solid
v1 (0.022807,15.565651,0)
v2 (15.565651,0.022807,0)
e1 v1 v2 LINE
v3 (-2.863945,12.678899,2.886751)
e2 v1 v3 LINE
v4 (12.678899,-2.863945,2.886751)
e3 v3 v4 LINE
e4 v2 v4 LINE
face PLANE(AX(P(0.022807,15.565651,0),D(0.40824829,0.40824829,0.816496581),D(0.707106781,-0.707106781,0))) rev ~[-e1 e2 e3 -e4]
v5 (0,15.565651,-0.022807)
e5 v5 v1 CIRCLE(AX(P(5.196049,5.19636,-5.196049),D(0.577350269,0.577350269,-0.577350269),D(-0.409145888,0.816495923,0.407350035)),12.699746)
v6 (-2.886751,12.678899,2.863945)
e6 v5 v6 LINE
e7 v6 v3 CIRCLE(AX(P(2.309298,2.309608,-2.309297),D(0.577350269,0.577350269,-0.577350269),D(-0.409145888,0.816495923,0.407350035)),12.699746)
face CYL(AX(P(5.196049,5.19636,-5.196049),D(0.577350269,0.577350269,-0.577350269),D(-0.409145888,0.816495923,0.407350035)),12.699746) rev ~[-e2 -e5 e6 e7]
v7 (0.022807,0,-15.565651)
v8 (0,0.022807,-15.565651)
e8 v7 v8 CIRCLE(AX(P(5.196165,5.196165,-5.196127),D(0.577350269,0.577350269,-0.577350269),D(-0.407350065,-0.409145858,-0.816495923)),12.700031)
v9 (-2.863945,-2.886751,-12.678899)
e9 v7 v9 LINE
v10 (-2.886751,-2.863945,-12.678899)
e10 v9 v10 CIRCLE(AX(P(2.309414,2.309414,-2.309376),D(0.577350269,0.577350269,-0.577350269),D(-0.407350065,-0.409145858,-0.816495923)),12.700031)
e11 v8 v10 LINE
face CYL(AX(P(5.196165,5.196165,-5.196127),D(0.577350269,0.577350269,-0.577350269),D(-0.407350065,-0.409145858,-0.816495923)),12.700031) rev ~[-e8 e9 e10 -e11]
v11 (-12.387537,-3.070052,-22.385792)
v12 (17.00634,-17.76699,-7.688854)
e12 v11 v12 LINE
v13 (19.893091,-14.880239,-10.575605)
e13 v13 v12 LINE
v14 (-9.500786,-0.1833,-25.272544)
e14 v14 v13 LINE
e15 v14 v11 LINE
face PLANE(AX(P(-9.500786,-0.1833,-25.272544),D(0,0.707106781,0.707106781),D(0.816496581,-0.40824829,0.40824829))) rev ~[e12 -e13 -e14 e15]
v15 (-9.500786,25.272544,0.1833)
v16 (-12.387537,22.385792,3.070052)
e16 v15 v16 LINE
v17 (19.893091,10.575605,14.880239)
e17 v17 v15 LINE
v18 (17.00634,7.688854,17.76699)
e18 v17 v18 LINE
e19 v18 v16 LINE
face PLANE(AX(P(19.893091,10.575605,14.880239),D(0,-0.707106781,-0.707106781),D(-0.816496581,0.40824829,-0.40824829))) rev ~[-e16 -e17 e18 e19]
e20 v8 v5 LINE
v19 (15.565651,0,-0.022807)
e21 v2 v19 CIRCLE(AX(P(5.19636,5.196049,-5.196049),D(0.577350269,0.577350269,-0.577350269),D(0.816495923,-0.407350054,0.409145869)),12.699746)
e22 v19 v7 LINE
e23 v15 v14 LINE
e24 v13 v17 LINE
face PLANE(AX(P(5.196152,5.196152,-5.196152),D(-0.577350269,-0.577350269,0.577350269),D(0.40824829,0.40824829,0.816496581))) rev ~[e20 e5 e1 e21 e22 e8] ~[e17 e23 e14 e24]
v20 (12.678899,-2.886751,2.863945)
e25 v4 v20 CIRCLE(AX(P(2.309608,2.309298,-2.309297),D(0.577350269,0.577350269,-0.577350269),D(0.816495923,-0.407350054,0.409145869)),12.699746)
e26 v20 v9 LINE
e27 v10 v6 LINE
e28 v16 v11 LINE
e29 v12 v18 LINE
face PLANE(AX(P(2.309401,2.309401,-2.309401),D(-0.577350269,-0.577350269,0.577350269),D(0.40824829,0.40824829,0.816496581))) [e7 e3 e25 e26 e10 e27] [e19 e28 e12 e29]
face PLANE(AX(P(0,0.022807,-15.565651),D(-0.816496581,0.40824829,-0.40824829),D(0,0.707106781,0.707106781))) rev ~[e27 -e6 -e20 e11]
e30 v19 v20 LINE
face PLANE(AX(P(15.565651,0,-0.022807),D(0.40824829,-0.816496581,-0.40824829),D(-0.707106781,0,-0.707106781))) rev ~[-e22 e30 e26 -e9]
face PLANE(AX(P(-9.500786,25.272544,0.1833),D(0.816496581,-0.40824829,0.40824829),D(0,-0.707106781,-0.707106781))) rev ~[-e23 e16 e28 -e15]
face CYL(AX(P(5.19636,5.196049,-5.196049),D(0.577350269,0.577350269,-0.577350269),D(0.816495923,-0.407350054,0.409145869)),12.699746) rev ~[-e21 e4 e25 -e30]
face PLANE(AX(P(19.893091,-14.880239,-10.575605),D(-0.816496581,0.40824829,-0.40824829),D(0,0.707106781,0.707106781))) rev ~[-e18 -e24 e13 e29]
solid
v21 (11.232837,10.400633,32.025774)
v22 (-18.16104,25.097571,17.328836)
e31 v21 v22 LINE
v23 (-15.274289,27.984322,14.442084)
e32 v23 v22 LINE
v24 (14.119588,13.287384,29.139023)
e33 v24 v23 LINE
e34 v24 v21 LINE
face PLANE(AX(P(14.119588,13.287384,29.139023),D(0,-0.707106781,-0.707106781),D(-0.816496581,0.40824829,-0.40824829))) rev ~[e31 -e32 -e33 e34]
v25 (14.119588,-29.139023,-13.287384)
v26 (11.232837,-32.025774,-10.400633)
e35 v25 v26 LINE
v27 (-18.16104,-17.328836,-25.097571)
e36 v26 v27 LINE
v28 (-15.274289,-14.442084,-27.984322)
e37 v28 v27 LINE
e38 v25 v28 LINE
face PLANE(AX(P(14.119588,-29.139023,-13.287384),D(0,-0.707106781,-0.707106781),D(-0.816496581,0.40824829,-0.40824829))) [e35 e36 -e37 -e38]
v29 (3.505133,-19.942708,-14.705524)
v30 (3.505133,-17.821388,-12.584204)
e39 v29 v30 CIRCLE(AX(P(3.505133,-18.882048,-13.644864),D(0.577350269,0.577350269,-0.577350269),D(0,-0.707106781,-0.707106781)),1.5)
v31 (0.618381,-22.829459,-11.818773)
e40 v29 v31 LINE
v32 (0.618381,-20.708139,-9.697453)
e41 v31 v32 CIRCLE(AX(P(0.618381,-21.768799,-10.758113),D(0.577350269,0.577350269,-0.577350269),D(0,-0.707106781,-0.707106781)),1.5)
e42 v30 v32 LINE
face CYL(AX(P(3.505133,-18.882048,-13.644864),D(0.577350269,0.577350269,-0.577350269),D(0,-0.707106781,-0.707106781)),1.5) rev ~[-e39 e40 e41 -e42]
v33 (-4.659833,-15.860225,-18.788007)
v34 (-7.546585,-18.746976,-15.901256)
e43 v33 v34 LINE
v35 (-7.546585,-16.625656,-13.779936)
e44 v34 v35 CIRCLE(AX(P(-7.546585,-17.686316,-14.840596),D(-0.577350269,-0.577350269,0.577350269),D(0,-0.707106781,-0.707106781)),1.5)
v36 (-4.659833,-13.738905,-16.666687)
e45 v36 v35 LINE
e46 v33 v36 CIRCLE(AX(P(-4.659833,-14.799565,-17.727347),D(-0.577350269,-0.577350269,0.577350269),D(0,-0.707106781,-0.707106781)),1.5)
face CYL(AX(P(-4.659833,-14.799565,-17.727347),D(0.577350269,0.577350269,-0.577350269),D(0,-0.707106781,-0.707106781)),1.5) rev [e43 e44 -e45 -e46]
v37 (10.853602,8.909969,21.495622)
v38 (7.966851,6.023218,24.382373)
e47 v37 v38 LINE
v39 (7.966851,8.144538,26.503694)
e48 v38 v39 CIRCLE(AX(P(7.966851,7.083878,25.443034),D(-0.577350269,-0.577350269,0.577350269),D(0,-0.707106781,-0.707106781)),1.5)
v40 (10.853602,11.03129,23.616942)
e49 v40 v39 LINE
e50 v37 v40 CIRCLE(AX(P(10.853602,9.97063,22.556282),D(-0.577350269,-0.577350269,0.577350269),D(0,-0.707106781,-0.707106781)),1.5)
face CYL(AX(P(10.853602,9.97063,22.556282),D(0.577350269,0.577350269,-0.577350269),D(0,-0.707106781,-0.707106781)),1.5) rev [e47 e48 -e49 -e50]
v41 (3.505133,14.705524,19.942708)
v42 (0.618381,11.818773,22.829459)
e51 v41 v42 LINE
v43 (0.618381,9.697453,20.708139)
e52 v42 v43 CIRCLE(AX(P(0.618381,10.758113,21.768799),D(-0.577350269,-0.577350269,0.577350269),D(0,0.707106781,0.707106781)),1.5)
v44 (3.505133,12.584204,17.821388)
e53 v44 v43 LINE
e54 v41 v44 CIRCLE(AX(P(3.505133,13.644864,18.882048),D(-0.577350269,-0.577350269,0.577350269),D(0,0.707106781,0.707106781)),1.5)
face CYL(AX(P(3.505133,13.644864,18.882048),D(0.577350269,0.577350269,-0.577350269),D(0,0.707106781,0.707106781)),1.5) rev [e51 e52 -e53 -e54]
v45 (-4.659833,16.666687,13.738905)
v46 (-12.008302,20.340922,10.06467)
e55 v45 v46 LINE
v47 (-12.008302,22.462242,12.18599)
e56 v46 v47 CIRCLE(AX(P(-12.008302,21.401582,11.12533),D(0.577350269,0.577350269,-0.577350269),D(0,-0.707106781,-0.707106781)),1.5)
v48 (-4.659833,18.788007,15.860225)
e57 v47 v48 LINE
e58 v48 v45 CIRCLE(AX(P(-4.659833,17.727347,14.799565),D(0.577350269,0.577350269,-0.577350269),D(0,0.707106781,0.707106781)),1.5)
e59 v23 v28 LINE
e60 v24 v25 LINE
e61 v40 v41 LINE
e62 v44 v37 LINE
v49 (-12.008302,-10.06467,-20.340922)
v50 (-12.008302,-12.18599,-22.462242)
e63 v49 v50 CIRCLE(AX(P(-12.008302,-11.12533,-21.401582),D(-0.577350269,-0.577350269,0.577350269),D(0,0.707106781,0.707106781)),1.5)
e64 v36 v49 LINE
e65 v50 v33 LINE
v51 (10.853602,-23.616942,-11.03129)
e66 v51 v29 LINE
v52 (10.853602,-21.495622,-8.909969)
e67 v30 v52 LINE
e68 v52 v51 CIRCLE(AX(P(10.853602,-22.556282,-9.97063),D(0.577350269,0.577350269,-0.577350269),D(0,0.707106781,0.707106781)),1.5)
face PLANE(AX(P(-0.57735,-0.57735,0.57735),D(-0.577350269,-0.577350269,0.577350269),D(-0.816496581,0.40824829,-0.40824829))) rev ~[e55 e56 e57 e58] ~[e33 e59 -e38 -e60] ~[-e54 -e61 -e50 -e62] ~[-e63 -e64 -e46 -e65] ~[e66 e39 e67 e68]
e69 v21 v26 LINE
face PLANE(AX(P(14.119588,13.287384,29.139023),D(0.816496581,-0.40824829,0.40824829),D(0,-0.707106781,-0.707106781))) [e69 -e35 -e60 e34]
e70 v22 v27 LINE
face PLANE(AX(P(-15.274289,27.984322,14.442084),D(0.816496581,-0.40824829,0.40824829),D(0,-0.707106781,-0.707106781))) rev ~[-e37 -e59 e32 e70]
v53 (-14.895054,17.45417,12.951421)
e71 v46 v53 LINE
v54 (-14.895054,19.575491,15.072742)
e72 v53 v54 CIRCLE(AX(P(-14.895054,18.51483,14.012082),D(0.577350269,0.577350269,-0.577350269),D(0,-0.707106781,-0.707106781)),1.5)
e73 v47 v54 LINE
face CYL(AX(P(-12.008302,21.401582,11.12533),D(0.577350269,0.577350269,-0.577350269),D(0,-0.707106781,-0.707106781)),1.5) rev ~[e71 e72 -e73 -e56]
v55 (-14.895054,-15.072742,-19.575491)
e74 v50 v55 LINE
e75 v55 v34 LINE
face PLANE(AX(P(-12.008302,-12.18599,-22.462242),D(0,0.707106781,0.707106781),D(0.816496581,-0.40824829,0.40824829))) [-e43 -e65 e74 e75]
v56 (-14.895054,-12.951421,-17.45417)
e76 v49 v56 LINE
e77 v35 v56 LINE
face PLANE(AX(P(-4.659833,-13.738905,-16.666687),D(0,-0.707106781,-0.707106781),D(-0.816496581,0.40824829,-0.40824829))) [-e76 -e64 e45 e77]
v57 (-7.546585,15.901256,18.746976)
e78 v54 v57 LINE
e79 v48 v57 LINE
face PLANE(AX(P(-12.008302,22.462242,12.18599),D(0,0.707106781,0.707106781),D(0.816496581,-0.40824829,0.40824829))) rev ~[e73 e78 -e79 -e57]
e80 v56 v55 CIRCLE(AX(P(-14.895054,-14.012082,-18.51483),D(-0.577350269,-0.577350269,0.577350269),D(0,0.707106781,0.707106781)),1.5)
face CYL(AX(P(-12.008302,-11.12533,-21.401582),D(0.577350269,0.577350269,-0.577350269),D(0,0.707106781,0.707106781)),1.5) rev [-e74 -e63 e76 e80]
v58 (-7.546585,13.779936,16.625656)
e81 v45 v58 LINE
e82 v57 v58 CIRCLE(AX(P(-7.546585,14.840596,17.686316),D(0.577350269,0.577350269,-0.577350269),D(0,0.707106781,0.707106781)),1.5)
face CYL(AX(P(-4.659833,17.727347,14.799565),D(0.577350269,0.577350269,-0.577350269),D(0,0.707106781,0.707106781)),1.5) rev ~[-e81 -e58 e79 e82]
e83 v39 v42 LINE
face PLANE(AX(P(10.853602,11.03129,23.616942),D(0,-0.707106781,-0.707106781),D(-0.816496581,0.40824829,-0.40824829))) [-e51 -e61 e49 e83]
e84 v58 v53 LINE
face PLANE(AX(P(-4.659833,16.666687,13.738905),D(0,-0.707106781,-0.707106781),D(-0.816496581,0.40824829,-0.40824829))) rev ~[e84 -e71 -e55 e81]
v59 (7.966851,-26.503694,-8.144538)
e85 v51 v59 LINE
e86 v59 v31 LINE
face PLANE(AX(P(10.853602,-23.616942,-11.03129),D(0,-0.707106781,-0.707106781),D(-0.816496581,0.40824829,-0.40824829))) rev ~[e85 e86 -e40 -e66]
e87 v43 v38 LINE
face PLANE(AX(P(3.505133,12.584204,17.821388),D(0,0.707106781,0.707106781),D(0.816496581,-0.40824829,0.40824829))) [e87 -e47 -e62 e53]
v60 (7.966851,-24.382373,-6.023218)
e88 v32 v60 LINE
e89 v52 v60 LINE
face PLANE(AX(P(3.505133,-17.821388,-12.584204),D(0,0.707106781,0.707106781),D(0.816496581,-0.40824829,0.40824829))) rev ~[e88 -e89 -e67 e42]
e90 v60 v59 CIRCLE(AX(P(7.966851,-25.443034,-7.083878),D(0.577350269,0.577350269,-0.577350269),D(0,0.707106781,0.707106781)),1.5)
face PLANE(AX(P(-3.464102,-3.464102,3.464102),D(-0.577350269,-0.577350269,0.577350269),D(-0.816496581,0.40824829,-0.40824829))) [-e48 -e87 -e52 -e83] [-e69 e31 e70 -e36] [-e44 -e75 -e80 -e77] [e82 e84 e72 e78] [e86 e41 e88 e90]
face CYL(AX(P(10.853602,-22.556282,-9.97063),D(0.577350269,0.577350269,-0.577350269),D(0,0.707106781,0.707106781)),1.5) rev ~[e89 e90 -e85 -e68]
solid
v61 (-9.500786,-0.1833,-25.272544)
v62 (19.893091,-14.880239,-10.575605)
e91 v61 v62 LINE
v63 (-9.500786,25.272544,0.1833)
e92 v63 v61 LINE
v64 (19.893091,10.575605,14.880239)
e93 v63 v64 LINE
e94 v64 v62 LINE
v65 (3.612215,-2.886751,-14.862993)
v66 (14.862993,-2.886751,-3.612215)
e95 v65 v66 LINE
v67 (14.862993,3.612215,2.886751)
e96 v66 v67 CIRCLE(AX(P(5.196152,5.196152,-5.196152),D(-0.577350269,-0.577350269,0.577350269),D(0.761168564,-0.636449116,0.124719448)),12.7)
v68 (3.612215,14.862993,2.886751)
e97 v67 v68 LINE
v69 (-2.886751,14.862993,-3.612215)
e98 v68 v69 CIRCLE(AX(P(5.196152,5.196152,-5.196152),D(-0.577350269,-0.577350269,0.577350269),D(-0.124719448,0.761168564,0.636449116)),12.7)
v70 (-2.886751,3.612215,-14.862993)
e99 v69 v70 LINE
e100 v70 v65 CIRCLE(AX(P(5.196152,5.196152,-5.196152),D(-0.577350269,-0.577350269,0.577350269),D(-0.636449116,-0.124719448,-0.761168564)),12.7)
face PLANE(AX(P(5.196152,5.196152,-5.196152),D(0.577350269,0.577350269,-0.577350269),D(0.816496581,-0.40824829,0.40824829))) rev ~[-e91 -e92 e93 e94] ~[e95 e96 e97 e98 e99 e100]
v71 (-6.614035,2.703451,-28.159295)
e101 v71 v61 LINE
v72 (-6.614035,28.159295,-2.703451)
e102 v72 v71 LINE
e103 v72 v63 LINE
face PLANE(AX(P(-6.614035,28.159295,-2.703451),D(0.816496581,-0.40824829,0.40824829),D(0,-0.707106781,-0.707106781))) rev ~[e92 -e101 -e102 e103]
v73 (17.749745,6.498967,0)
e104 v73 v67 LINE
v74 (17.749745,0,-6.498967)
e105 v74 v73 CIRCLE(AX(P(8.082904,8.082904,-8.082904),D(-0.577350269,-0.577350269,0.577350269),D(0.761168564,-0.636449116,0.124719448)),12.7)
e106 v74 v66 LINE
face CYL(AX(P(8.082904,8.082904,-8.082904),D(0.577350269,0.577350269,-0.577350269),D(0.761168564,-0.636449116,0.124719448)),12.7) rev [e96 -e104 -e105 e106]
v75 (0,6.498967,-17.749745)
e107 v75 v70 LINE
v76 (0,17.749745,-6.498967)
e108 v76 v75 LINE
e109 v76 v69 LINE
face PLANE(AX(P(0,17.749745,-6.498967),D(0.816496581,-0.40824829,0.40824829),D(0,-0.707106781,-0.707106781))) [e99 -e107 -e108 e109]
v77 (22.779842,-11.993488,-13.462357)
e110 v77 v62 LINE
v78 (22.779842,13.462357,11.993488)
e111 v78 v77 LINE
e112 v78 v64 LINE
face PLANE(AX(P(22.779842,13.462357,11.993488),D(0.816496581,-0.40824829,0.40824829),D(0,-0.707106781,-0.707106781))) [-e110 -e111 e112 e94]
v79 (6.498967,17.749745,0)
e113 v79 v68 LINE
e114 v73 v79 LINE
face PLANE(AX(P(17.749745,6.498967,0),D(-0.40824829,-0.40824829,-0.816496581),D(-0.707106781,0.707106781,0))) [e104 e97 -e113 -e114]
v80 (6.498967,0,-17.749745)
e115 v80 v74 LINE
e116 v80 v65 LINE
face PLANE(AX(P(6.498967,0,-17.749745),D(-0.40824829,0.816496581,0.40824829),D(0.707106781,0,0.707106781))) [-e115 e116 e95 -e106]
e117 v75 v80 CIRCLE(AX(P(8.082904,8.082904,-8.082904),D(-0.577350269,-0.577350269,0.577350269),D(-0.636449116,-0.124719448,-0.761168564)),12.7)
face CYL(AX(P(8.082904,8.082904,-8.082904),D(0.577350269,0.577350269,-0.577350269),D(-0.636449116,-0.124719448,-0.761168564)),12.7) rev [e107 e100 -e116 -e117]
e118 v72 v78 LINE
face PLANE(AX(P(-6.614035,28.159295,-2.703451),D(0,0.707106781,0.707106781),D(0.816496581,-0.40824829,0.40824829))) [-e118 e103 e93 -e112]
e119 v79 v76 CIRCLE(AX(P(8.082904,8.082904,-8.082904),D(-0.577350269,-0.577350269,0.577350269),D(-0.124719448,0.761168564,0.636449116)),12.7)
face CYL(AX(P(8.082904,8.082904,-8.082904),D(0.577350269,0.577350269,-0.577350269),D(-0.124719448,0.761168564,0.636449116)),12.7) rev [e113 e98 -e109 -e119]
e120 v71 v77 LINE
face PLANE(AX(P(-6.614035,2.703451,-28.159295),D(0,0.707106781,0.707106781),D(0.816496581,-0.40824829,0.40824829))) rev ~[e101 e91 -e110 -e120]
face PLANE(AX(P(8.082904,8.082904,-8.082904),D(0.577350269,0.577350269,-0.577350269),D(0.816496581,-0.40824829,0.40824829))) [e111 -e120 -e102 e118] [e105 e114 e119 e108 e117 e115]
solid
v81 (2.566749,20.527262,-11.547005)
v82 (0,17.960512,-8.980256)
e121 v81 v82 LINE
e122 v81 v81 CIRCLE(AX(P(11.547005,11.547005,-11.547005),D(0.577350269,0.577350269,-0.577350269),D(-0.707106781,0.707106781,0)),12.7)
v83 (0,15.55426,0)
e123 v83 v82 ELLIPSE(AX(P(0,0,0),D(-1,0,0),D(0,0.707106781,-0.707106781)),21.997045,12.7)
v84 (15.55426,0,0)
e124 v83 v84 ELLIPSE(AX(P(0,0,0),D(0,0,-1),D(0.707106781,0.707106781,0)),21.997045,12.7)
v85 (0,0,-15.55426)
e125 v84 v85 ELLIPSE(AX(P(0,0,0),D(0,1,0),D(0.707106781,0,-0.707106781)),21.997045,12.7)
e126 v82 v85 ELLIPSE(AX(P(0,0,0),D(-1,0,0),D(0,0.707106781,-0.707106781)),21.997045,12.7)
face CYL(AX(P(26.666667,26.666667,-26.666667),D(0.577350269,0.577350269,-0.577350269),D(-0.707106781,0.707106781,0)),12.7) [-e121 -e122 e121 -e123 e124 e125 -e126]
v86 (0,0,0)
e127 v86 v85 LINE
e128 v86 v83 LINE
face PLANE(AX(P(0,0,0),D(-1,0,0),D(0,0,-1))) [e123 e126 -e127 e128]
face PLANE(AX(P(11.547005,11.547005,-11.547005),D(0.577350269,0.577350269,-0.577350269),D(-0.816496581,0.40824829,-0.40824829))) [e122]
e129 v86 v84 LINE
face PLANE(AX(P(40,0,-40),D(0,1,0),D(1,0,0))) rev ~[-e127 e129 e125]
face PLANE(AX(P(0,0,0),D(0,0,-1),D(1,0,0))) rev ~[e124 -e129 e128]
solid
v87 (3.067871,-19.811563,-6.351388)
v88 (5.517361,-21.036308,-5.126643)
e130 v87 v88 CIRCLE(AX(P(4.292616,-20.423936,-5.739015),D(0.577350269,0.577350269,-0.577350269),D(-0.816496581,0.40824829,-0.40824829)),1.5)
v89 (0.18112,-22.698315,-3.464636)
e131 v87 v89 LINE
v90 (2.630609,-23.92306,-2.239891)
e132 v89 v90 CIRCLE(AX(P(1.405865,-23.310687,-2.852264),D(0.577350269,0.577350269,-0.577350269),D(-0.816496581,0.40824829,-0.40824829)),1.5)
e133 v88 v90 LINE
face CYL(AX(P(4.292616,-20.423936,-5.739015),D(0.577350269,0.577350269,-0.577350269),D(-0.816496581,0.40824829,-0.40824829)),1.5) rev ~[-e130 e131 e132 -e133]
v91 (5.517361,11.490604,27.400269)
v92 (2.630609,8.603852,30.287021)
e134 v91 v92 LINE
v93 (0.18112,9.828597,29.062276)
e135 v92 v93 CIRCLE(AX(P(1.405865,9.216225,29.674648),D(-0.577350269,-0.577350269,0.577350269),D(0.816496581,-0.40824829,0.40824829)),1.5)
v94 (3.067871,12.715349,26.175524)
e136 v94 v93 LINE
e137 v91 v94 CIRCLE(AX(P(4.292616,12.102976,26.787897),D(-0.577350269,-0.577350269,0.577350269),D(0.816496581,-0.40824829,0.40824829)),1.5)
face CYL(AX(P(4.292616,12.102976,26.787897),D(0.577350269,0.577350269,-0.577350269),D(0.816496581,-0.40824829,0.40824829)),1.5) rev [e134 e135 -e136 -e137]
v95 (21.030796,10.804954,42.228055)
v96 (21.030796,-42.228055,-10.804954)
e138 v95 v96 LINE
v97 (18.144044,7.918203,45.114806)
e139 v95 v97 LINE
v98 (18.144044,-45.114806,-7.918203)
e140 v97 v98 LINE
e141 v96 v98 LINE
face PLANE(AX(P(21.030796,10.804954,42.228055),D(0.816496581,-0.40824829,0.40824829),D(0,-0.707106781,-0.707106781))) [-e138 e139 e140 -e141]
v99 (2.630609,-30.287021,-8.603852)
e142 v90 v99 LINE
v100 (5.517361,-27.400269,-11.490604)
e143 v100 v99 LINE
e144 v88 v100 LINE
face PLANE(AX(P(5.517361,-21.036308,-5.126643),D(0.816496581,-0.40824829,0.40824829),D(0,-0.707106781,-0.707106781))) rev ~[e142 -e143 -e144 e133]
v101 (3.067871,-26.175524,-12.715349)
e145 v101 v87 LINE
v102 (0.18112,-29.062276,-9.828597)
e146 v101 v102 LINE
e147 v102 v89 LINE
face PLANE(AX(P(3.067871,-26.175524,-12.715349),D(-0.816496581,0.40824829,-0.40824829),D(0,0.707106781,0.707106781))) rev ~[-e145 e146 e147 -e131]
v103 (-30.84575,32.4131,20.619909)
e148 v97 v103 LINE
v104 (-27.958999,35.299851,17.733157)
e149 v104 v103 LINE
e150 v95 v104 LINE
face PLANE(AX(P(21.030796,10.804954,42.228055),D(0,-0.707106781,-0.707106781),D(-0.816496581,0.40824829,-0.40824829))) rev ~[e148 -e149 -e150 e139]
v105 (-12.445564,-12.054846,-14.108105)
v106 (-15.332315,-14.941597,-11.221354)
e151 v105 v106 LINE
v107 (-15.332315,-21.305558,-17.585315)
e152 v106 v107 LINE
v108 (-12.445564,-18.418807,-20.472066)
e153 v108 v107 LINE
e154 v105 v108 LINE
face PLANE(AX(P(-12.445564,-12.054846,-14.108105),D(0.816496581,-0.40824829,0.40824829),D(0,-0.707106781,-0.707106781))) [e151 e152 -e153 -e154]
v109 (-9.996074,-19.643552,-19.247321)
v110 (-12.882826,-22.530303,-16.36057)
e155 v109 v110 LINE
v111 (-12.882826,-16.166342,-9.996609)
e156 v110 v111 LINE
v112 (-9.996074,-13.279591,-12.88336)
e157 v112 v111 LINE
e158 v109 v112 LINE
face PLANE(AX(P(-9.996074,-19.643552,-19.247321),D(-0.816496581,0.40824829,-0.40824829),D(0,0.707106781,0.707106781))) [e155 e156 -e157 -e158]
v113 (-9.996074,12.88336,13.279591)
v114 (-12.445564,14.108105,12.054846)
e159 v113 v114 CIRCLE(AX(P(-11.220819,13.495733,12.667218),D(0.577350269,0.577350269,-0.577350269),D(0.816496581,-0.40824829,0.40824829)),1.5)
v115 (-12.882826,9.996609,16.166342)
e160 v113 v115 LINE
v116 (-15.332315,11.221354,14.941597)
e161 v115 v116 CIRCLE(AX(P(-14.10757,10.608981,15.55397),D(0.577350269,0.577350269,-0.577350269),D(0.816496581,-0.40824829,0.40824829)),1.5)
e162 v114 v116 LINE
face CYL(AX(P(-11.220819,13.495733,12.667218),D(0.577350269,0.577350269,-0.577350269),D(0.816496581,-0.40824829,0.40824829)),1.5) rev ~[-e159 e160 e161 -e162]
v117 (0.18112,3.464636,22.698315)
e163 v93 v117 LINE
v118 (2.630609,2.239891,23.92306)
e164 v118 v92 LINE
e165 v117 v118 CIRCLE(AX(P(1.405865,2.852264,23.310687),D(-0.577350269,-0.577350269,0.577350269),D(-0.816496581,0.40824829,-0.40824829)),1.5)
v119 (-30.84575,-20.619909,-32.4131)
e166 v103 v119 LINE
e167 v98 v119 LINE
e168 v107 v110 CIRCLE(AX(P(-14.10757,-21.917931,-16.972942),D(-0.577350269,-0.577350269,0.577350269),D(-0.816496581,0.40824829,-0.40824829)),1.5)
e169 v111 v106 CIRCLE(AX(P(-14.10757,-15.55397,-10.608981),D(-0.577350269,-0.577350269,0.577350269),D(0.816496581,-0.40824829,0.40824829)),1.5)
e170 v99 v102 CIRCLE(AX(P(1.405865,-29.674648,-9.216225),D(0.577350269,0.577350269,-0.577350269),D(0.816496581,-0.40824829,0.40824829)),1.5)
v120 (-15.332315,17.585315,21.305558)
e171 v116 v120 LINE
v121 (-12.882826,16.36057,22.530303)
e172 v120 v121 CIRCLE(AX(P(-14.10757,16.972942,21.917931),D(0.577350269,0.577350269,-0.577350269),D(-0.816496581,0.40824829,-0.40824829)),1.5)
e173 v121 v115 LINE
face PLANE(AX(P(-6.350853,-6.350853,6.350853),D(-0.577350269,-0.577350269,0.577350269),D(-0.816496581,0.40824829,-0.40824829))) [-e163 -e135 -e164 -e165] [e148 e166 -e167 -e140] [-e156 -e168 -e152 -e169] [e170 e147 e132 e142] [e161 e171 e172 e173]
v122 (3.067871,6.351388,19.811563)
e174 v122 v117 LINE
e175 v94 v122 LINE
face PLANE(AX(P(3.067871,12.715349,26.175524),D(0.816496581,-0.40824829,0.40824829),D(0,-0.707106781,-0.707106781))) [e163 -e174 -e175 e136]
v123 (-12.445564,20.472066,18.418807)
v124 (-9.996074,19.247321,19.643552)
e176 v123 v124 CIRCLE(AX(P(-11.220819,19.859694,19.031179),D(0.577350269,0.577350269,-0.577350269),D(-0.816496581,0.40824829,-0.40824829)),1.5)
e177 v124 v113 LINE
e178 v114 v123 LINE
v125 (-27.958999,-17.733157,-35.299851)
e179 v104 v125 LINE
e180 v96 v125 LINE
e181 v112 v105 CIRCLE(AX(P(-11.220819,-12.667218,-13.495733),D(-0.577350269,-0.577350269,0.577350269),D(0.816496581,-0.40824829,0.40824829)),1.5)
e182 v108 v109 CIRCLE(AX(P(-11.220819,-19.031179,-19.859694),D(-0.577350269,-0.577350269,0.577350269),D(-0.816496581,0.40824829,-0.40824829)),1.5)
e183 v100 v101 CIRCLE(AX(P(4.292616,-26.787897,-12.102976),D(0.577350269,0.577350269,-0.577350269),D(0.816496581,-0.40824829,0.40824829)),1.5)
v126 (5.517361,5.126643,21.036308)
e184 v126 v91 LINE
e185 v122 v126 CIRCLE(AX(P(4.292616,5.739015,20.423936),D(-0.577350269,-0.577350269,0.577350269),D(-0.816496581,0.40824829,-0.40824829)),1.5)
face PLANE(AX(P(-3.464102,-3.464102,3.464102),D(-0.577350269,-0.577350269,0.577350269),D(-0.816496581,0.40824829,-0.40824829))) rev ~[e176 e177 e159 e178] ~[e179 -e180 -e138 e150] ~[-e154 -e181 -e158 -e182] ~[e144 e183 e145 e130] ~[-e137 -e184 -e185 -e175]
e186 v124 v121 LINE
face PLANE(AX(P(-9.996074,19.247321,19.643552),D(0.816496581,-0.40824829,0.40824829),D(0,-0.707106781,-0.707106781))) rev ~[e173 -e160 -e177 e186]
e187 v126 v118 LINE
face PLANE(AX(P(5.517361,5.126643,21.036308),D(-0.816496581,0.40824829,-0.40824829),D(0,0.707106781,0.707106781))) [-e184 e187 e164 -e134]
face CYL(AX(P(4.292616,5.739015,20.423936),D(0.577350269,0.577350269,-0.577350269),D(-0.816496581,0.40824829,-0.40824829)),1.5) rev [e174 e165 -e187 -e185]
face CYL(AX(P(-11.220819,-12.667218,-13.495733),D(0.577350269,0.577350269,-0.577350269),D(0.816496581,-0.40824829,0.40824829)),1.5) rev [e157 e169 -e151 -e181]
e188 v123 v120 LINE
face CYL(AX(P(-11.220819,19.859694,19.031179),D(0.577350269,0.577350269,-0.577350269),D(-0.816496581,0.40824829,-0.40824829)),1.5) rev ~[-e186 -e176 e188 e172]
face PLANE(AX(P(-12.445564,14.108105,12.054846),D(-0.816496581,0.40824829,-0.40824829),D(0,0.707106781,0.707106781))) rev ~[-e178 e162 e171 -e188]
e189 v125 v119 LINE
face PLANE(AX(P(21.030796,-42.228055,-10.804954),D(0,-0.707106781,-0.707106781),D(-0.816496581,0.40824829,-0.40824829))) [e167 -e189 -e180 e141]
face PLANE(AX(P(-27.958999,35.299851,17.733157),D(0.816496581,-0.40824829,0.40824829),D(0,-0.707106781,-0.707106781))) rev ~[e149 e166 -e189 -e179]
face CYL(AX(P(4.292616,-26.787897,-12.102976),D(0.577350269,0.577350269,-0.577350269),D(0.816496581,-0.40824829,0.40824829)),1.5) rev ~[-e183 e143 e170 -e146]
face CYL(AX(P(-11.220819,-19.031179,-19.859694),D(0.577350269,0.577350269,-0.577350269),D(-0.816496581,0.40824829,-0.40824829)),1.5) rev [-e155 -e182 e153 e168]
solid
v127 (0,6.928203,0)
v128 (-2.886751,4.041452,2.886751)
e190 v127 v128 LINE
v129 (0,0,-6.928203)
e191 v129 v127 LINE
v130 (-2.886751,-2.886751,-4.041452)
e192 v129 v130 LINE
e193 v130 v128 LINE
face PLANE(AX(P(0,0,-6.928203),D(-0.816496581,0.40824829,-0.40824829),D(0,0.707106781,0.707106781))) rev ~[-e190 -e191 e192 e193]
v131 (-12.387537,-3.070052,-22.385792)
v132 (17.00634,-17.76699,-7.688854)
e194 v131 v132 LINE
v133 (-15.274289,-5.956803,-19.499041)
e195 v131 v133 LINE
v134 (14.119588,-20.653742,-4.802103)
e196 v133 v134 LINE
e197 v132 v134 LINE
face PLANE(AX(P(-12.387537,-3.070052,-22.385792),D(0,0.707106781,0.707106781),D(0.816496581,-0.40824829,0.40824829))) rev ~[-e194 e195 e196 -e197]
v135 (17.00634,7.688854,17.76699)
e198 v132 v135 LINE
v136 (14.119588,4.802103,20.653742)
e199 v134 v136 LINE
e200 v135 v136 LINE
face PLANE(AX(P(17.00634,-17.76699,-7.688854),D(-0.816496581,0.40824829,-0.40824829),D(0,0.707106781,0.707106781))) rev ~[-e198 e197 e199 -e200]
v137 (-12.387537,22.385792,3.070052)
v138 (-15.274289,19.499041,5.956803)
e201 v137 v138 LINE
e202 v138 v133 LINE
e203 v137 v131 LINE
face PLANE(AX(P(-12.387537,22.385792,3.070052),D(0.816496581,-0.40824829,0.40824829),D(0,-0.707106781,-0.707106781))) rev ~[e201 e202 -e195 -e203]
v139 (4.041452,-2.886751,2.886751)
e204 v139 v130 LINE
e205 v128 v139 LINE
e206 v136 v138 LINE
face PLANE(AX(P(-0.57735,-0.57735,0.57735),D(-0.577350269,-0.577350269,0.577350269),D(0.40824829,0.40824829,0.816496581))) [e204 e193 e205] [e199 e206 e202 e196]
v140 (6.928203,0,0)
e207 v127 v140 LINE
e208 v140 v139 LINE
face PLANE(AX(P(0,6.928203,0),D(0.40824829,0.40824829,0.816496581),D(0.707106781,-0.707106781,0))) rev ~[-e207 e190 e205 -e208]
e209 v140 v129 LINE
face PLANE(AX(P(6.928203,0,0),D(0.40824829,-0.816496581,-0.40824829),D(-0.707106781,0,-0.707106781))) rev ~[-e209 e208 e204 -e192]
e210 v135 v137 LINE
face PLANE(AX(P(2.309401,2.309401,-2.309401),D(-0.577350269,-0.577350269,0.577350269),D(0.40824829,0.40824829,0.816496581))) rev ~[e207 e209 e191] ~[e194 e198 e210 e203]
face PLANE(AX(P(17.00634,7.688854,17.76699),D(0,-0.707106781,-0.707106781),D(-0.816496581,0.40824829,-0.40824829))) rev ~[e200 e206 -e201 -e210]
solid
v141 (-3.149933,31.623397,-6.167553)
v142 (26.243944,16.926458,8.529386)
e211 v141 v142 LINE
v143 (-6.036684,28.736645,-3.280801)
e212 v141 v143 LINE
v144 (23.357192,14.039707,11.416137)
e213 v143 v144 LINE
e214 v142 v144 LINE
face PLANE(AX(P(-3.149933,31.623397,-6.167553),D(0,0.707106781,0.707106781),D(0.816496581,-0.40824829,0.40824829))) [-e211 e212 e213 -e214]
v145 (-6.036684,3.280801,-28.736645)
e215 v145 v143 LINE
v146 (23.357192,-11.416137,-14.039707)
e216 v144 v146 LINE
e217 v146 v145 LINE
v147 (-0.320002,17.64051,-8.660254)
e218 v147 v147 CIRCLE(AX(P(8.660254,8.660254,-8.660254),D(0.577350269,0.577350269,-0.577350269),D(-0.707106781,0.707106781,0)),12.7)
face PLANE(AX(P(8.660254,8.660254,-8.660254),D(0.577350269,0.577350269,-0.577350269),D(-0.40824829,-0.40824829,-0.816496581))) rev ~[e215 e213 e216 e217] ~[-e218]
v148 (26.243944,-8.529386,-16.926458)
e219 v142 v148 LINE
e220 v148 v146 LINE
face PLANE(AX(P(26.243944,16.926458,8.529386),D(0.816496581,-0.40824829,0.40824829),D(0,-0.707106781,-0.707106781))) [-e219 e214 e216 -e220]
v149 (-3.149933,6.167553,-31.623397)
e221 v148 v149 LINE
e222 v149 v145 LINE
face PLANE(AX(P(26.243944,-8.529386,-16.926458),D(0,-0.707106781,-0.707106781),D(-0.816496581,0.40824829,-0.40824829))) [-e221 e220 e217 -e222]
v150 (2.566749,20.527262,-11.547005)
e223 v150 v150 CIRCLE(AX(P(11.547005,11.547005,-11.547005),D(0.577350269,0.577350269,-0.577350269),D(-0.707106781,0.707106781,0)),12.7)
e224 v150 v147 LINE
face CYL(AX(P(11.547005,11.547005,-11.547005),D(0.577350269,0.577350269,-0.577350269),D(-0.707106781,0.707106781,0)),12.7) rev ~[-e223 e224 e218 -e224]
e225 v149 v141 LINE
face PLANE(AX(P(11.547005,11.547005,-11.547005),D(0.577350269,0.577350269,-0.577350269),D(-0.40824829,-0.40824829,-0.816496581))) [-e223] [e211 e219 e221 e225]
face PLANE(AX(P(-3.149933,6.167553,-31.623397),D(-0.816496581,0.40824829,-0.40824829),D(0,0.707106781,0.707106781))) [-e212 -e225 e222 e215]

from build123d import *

# Parameters (mm, degrees)
SKETCH1_W           = 80
SKETCH1_H           = 80
BOSS_EXTRUDE1_DEPTH = 80
SKETCH2_R           = 97.950709898
CUT_EXTRUDE1_DEPTH  = 93.37604307
SKETCH3_R           = 78.302577254
SKETCH3_R_2         = 12.7
CUT_EXTRUDE2_DEPTH  = 40
SKETCH4_R           = 14.105721121
CUT_EXTRUDE3_DEPTH  = 40
SKETCH6_W           = 36
SKETCH6_H           = 36
BOSS_EXTRUDE2_DEPTH = 5
BOSS_EXTRUDE3_DEPTH = 5
BOSS_EXTRUDE4_DEPTH = 5
SKETCH12_R          = 12.7
BOSS_EXTRUDE6_DEPTH = 5
SKETCH15_W          = 36
SKETCH15_H          = 60
BOSS_EXTRUDE8_DEPTH = 5
SKETCH16_W          = 60
SKETCH16_H          = 75
BOSS_EXTRUDE9_DEPTH = 5


with BuildPart() as part:
    # Sketch1 → Boss-Extrude1 (new body)
    with BuildSketch(Plane(origin=(0, 0, 0), x_dir=(1, 0, 0), z_dir=(0, 1, 0))):
        with Locations((40, 40)):
            Rectangle(SKETCH1_W, SKETCH1_H)
    extrude(amount=BOSS_EXTRUDE1_DEPTH)

    # Sketch2 → Cut-Extrude1 (cut, through all)
    with BuildSketch(Plane(origin=(26.666666667, 26.666666667, -26.666666667), x_dir=(-0.8164965809277261, 0.408248290463863, -0.408248290463863), z_dir=(0.5773502691896257, 0.5773502691896258, -0.5773502691896258))):
        Circle(SKETCH2_R)
    extrude(amount=CUT_EXTRUDE1_DEPTH, mode=Mode.SUBTRACT)

    # Sketch3 → Cut-Extrude2 (cut)
    with BuildSketch(Plane(origin=(26.666666667, 26.666666667, -26.666666667), x_dir=(-0.4082482904638628, -0.408248290463863, -0.8164965809277263), z_dir=(0.5773502691896258, 0.577350269189626, -0.5773502691896256))):
        Circle(SKETCH3_R)
        with Locations(Location((0, 0, 0), (0, 0, 90))):
            Circle(SKETCH3_R_2, mode=Mode.SUBTRACT)
    extrude(amount=-CUT_EXTRUDE2_DEPTH, mode=Mode.SUBTRACT)

    # Sketch4 → Cut-Extrude3 (cut)
    with BuildSketch(Plane(origin=(11.547005384, 11.547005384, -11.547005384), x_dir=(-0.816496580927726, 0.408248290463863, -0.408248290463863), z_dir=(0.5773502691896258, 0.5773502691896262, -0.5773502691896255))):
        Circle(SKETCH4_R)
    extrude(amount=CUT_EXTRUDE3_DEPTH, mode=Mode.SUBTRACT)


with BuildPart() as body_2:
    # Sketch6 → Boss-Extrude2 (new body)
    with BuildSketch(Plane(origin=(8.082903769, 8.082903769, -8.082903769), x_dir=(0.8164965809277259, -0.4082482904638634, 0.40824829046386296), z_dir=(0.577350269189626, 0.5773502691896261, -0.5773502691896253))):
        Rectangle(SKETCH6_W, SKETCH6_H)
        with BuildLine():
            Line((11.839413643, -4.595463479), (-1.939918706, -12.55096472))
            ThreePointArc((-1.939918706, -12.55096472), (-6.35, -10.998522628), (-9.899494937, -7.955501241))
            Line((-9.899494937, -7.955501241), (-9.899494937, 7.955501241))
            ThreePointArc((-9.899494937, 7.955501241), (-6.35, 10.998522628), (-1.939918706, 12.55096472))
            Line((-1.939918706, 12.55096472), (11.839413643, 4.595463479))
            ThreePointArc((11.839413643, 4.595463479), (12.7, 0), (11.839413643, -4.595463479))
        make_face(mode=Mode.SUBTRACT)
    extrude(amount=-BOSS_EXTRUDE2_DEPTH)


with BuildPart() as body_3:
    # Sketch7 → Boss-Extrude3 (new body)
    with BuildSketch(Plane(origin=(5.196152423, 5.196152423, -5.196152423), x_dir=(0.4082482904638628, 0.40824829046386274, 0.8164965809277264), z_dir=(-0.5773502691896258, -0.5773502691896261, 0.5773502691896254))):
        Polygon((6.588457268, 24.588457268), (-24.588457268, 6.588457268), (-6.588457268, -24.588457268), (24.588457268, -6.588457268), align=None)
        with BuildLine():
            Line((6.363961031, 10.9904504), (6.363961031, -10.9904504))
            ThreePointArc((6.363961031, -10.9904504), (6.35, -10.998522628), (6.33602873, -11.006577121))
            Line((6.33602873, -11.006577121), (-12.699989761, -0.016126721))
            ThreePointArc((-12.699989761, -0.016126721), (-12.7, 0), (-12.699989761, 0.016126721))
            Line((-12.699989761, 0.016126721), (6.33602873, 11.006577121))
            ThreePointArc((6.33602873, 11.006577121), (6.35, 10.998522628), (6.363961031, 10.9904504))
        make_face(mode=Mode.SUBTRACT)
    extrude(amount=BOSS_EXTRUDE3_DEPTH)


with BuildPart() as body_4:
    # Sketch8 → Boss-Extrude4 (new body)
    with BuildSketch(Plane(origin=(2.309401077, 2.309401077, -2.309401077), x_dir=(0.40824829046386274, 0.4082482904638628, 0.8164965809277264), z_dir=(-0.5773502691896258, -0.5773502691896261, 0.5773502691896254))):
        Polygon((24.588457268, -6.588457268), (6.588457268, 24.588457268), (-24.588457268, 6.588457268), (-6.588457268, -24.588457268), align=None)
        Polygon((-5.656854249, 0), (2.828427125, 4.898979486), (2.828427125, -4.898979486), align=None, mode=Mode.SUBTRACT)
    extrude(amount=BOSS_EXTRUDE4_DEPTH)


with BuildPart() as body_5:
    # Sketch12 → Boss-Extrude6 (new body)
    with BuildSketch(Plane(origin=(11.547005384, 11.547005384, -11.547005384), x_dir=(-0.4082482904638629, -0.40824829046386285, -0.8164965809277264), z_dir=(0.577350269189626, 0.577350269189626, -0.5773502691896255))):
        Polygon((24.588457268, 6.588457268), (-6.588457268, 24.588457268), (-24.588457268, -6.588457268), (6.588457268, -24.588457268), align=None)
        with Locations(Location((0, 0, 0), (0, 0, 90))):
            Circle(SKETCH12_R, mode=Mode.SUBTRACT)
    extrude(amount=-BOSS_EXTRUDE6_DEPTH)


with BuildPart() as body_6:
    # Sketch15 → Boss-Extrude8 (new body)
    with BuildSketch(Plane(origin=(-0.577350269189621, -0.5773502691896211, 0.5773502691896204), x_dir=(-0.8164965809277259, 0.4082482904638634, -0.4082482904638631), z_dir=(-0.5773502691896261, -0.5773502691896256, 0.5773502691896257))):
        Rectangle(SKETCH15_W, SKETCH15_H)
        with BuildLine():
            Line((-14, 24.5), (-5, 24.5))
            ThreePointArc((-5, 24.5), (-3.5, 23), (-5, 21.5))
            Line((-5, 21.5), (-14, 21.5))
            ThreePointArc((-14, 21.5), (-15.5, 23), (-14, 24.5))
        make_face(mode=Mode.SUBTRACT)
        with BuildLine():
            Line((14, 24.5), (5, 24.5))
            ThreePointArc((5, 24.5), (3.5, 23), (5, 21.5))
            Line((5, 21.5), (14, 21.5))
            ThreePointArc((14, 21.5), (15.5, 23), (14, 24.5))
        make_face(mode=Mode.SUBTRACT)
        with BuildLine():
            Line((14, -24.5), (5, -24.5))
            ThreePointArc((5, -24.5), (3.5, -23), (5, -21.5))
            Line((5, -21.5), (14, -21.5))
            ThreePointArc((14, -21.5), (15.5, -23), (14, -24.5))
        make_face(mode=Mode.SUBTRACT)
        with BuildLine():
            Line((-14, -24.5), (-5, -24.5))
            ThreePointArc((-5, -24.5), (-3.5, -23), (-5, -21.5))
            Line((-5, -21.5), (-14, -21.5))
            ThreePointArc((-14, -21.5), (-15.5, -23), (-14, -24.5))
        make_face(mode=Mode.SUBTRACT)
    extrude(amount=BOSS_EXTRUDE8_DEPTH)


with BuildPart() as body_7:
    # Sketch16 → Boss-Extrude9 (new body)
    with BuildSketch(Plane(origin=(-3.464101615, -3.464101615, 3.464101615), x_dir=(-0.8164965809277259, 0.4082482904638634, -0.4082482904638631), z_dir=(-0.5773502691896261, -0.5773502691896256, 0.5773502691896257))):
        Rectangle(SKETCH16_W, SKETCH16_H)
        with BuildLine():
            Line((-11, 18.5), (-11, 27.5))
            ThreePointArc((-11, 27.5), (-9.5, 29), (-8, 27.5))
            Line((-8, 27.5), (-8, 18.5))
            ThreePointArc((-8, 18.5), (-9.5, 17), (-11, 18.5))
        make_face(mode=Mode.SUBTRACT)
        with BuildLine():
            Line((11, 18.5), (11, 27.5))
            ThreePointArc((11, 27.5), (9.5, 29), (8, 27.5))
            Line((8, 27.5), (8, 18.5))
            ThreePointArc((8, 18.5), (9.5, 17), (11, 18.5))
        make_face(mode=Mode.SUBTRACT)
        with BuildLine():
            Line((-11, -18.5), (-11, -27.5))
            ThreePointArc((-11, -27.5), (-9.5, -29), (-8, -27.5))
            Line((-8, -27.5), (-8, -18.5))
            ThreePointArc((-8, -18.5), (-9.5, -17), (-11, -18.5))
        make_face(mode=Mode.SUBTRACT)
        with BuildLine():
            Line((8, -27.5), (8, -18.5))
            ThreePointArc((8, -18.5), (9.5, -17), (11, -18.5))
            Line((11, -18.5), (11, -27.5))
            ThreePointArc((11, -27.5), (9.5, -29), (8, -27.5))
        make_face(mode=Mode.SUBTRACT)
    extrude(amount=BOSS_EXTRUDE9_DEPTH)


solid = Compound([part.part, body_2.part, body_3.part, body_4.part, body_5.part, body_6.part, body_7.part])
